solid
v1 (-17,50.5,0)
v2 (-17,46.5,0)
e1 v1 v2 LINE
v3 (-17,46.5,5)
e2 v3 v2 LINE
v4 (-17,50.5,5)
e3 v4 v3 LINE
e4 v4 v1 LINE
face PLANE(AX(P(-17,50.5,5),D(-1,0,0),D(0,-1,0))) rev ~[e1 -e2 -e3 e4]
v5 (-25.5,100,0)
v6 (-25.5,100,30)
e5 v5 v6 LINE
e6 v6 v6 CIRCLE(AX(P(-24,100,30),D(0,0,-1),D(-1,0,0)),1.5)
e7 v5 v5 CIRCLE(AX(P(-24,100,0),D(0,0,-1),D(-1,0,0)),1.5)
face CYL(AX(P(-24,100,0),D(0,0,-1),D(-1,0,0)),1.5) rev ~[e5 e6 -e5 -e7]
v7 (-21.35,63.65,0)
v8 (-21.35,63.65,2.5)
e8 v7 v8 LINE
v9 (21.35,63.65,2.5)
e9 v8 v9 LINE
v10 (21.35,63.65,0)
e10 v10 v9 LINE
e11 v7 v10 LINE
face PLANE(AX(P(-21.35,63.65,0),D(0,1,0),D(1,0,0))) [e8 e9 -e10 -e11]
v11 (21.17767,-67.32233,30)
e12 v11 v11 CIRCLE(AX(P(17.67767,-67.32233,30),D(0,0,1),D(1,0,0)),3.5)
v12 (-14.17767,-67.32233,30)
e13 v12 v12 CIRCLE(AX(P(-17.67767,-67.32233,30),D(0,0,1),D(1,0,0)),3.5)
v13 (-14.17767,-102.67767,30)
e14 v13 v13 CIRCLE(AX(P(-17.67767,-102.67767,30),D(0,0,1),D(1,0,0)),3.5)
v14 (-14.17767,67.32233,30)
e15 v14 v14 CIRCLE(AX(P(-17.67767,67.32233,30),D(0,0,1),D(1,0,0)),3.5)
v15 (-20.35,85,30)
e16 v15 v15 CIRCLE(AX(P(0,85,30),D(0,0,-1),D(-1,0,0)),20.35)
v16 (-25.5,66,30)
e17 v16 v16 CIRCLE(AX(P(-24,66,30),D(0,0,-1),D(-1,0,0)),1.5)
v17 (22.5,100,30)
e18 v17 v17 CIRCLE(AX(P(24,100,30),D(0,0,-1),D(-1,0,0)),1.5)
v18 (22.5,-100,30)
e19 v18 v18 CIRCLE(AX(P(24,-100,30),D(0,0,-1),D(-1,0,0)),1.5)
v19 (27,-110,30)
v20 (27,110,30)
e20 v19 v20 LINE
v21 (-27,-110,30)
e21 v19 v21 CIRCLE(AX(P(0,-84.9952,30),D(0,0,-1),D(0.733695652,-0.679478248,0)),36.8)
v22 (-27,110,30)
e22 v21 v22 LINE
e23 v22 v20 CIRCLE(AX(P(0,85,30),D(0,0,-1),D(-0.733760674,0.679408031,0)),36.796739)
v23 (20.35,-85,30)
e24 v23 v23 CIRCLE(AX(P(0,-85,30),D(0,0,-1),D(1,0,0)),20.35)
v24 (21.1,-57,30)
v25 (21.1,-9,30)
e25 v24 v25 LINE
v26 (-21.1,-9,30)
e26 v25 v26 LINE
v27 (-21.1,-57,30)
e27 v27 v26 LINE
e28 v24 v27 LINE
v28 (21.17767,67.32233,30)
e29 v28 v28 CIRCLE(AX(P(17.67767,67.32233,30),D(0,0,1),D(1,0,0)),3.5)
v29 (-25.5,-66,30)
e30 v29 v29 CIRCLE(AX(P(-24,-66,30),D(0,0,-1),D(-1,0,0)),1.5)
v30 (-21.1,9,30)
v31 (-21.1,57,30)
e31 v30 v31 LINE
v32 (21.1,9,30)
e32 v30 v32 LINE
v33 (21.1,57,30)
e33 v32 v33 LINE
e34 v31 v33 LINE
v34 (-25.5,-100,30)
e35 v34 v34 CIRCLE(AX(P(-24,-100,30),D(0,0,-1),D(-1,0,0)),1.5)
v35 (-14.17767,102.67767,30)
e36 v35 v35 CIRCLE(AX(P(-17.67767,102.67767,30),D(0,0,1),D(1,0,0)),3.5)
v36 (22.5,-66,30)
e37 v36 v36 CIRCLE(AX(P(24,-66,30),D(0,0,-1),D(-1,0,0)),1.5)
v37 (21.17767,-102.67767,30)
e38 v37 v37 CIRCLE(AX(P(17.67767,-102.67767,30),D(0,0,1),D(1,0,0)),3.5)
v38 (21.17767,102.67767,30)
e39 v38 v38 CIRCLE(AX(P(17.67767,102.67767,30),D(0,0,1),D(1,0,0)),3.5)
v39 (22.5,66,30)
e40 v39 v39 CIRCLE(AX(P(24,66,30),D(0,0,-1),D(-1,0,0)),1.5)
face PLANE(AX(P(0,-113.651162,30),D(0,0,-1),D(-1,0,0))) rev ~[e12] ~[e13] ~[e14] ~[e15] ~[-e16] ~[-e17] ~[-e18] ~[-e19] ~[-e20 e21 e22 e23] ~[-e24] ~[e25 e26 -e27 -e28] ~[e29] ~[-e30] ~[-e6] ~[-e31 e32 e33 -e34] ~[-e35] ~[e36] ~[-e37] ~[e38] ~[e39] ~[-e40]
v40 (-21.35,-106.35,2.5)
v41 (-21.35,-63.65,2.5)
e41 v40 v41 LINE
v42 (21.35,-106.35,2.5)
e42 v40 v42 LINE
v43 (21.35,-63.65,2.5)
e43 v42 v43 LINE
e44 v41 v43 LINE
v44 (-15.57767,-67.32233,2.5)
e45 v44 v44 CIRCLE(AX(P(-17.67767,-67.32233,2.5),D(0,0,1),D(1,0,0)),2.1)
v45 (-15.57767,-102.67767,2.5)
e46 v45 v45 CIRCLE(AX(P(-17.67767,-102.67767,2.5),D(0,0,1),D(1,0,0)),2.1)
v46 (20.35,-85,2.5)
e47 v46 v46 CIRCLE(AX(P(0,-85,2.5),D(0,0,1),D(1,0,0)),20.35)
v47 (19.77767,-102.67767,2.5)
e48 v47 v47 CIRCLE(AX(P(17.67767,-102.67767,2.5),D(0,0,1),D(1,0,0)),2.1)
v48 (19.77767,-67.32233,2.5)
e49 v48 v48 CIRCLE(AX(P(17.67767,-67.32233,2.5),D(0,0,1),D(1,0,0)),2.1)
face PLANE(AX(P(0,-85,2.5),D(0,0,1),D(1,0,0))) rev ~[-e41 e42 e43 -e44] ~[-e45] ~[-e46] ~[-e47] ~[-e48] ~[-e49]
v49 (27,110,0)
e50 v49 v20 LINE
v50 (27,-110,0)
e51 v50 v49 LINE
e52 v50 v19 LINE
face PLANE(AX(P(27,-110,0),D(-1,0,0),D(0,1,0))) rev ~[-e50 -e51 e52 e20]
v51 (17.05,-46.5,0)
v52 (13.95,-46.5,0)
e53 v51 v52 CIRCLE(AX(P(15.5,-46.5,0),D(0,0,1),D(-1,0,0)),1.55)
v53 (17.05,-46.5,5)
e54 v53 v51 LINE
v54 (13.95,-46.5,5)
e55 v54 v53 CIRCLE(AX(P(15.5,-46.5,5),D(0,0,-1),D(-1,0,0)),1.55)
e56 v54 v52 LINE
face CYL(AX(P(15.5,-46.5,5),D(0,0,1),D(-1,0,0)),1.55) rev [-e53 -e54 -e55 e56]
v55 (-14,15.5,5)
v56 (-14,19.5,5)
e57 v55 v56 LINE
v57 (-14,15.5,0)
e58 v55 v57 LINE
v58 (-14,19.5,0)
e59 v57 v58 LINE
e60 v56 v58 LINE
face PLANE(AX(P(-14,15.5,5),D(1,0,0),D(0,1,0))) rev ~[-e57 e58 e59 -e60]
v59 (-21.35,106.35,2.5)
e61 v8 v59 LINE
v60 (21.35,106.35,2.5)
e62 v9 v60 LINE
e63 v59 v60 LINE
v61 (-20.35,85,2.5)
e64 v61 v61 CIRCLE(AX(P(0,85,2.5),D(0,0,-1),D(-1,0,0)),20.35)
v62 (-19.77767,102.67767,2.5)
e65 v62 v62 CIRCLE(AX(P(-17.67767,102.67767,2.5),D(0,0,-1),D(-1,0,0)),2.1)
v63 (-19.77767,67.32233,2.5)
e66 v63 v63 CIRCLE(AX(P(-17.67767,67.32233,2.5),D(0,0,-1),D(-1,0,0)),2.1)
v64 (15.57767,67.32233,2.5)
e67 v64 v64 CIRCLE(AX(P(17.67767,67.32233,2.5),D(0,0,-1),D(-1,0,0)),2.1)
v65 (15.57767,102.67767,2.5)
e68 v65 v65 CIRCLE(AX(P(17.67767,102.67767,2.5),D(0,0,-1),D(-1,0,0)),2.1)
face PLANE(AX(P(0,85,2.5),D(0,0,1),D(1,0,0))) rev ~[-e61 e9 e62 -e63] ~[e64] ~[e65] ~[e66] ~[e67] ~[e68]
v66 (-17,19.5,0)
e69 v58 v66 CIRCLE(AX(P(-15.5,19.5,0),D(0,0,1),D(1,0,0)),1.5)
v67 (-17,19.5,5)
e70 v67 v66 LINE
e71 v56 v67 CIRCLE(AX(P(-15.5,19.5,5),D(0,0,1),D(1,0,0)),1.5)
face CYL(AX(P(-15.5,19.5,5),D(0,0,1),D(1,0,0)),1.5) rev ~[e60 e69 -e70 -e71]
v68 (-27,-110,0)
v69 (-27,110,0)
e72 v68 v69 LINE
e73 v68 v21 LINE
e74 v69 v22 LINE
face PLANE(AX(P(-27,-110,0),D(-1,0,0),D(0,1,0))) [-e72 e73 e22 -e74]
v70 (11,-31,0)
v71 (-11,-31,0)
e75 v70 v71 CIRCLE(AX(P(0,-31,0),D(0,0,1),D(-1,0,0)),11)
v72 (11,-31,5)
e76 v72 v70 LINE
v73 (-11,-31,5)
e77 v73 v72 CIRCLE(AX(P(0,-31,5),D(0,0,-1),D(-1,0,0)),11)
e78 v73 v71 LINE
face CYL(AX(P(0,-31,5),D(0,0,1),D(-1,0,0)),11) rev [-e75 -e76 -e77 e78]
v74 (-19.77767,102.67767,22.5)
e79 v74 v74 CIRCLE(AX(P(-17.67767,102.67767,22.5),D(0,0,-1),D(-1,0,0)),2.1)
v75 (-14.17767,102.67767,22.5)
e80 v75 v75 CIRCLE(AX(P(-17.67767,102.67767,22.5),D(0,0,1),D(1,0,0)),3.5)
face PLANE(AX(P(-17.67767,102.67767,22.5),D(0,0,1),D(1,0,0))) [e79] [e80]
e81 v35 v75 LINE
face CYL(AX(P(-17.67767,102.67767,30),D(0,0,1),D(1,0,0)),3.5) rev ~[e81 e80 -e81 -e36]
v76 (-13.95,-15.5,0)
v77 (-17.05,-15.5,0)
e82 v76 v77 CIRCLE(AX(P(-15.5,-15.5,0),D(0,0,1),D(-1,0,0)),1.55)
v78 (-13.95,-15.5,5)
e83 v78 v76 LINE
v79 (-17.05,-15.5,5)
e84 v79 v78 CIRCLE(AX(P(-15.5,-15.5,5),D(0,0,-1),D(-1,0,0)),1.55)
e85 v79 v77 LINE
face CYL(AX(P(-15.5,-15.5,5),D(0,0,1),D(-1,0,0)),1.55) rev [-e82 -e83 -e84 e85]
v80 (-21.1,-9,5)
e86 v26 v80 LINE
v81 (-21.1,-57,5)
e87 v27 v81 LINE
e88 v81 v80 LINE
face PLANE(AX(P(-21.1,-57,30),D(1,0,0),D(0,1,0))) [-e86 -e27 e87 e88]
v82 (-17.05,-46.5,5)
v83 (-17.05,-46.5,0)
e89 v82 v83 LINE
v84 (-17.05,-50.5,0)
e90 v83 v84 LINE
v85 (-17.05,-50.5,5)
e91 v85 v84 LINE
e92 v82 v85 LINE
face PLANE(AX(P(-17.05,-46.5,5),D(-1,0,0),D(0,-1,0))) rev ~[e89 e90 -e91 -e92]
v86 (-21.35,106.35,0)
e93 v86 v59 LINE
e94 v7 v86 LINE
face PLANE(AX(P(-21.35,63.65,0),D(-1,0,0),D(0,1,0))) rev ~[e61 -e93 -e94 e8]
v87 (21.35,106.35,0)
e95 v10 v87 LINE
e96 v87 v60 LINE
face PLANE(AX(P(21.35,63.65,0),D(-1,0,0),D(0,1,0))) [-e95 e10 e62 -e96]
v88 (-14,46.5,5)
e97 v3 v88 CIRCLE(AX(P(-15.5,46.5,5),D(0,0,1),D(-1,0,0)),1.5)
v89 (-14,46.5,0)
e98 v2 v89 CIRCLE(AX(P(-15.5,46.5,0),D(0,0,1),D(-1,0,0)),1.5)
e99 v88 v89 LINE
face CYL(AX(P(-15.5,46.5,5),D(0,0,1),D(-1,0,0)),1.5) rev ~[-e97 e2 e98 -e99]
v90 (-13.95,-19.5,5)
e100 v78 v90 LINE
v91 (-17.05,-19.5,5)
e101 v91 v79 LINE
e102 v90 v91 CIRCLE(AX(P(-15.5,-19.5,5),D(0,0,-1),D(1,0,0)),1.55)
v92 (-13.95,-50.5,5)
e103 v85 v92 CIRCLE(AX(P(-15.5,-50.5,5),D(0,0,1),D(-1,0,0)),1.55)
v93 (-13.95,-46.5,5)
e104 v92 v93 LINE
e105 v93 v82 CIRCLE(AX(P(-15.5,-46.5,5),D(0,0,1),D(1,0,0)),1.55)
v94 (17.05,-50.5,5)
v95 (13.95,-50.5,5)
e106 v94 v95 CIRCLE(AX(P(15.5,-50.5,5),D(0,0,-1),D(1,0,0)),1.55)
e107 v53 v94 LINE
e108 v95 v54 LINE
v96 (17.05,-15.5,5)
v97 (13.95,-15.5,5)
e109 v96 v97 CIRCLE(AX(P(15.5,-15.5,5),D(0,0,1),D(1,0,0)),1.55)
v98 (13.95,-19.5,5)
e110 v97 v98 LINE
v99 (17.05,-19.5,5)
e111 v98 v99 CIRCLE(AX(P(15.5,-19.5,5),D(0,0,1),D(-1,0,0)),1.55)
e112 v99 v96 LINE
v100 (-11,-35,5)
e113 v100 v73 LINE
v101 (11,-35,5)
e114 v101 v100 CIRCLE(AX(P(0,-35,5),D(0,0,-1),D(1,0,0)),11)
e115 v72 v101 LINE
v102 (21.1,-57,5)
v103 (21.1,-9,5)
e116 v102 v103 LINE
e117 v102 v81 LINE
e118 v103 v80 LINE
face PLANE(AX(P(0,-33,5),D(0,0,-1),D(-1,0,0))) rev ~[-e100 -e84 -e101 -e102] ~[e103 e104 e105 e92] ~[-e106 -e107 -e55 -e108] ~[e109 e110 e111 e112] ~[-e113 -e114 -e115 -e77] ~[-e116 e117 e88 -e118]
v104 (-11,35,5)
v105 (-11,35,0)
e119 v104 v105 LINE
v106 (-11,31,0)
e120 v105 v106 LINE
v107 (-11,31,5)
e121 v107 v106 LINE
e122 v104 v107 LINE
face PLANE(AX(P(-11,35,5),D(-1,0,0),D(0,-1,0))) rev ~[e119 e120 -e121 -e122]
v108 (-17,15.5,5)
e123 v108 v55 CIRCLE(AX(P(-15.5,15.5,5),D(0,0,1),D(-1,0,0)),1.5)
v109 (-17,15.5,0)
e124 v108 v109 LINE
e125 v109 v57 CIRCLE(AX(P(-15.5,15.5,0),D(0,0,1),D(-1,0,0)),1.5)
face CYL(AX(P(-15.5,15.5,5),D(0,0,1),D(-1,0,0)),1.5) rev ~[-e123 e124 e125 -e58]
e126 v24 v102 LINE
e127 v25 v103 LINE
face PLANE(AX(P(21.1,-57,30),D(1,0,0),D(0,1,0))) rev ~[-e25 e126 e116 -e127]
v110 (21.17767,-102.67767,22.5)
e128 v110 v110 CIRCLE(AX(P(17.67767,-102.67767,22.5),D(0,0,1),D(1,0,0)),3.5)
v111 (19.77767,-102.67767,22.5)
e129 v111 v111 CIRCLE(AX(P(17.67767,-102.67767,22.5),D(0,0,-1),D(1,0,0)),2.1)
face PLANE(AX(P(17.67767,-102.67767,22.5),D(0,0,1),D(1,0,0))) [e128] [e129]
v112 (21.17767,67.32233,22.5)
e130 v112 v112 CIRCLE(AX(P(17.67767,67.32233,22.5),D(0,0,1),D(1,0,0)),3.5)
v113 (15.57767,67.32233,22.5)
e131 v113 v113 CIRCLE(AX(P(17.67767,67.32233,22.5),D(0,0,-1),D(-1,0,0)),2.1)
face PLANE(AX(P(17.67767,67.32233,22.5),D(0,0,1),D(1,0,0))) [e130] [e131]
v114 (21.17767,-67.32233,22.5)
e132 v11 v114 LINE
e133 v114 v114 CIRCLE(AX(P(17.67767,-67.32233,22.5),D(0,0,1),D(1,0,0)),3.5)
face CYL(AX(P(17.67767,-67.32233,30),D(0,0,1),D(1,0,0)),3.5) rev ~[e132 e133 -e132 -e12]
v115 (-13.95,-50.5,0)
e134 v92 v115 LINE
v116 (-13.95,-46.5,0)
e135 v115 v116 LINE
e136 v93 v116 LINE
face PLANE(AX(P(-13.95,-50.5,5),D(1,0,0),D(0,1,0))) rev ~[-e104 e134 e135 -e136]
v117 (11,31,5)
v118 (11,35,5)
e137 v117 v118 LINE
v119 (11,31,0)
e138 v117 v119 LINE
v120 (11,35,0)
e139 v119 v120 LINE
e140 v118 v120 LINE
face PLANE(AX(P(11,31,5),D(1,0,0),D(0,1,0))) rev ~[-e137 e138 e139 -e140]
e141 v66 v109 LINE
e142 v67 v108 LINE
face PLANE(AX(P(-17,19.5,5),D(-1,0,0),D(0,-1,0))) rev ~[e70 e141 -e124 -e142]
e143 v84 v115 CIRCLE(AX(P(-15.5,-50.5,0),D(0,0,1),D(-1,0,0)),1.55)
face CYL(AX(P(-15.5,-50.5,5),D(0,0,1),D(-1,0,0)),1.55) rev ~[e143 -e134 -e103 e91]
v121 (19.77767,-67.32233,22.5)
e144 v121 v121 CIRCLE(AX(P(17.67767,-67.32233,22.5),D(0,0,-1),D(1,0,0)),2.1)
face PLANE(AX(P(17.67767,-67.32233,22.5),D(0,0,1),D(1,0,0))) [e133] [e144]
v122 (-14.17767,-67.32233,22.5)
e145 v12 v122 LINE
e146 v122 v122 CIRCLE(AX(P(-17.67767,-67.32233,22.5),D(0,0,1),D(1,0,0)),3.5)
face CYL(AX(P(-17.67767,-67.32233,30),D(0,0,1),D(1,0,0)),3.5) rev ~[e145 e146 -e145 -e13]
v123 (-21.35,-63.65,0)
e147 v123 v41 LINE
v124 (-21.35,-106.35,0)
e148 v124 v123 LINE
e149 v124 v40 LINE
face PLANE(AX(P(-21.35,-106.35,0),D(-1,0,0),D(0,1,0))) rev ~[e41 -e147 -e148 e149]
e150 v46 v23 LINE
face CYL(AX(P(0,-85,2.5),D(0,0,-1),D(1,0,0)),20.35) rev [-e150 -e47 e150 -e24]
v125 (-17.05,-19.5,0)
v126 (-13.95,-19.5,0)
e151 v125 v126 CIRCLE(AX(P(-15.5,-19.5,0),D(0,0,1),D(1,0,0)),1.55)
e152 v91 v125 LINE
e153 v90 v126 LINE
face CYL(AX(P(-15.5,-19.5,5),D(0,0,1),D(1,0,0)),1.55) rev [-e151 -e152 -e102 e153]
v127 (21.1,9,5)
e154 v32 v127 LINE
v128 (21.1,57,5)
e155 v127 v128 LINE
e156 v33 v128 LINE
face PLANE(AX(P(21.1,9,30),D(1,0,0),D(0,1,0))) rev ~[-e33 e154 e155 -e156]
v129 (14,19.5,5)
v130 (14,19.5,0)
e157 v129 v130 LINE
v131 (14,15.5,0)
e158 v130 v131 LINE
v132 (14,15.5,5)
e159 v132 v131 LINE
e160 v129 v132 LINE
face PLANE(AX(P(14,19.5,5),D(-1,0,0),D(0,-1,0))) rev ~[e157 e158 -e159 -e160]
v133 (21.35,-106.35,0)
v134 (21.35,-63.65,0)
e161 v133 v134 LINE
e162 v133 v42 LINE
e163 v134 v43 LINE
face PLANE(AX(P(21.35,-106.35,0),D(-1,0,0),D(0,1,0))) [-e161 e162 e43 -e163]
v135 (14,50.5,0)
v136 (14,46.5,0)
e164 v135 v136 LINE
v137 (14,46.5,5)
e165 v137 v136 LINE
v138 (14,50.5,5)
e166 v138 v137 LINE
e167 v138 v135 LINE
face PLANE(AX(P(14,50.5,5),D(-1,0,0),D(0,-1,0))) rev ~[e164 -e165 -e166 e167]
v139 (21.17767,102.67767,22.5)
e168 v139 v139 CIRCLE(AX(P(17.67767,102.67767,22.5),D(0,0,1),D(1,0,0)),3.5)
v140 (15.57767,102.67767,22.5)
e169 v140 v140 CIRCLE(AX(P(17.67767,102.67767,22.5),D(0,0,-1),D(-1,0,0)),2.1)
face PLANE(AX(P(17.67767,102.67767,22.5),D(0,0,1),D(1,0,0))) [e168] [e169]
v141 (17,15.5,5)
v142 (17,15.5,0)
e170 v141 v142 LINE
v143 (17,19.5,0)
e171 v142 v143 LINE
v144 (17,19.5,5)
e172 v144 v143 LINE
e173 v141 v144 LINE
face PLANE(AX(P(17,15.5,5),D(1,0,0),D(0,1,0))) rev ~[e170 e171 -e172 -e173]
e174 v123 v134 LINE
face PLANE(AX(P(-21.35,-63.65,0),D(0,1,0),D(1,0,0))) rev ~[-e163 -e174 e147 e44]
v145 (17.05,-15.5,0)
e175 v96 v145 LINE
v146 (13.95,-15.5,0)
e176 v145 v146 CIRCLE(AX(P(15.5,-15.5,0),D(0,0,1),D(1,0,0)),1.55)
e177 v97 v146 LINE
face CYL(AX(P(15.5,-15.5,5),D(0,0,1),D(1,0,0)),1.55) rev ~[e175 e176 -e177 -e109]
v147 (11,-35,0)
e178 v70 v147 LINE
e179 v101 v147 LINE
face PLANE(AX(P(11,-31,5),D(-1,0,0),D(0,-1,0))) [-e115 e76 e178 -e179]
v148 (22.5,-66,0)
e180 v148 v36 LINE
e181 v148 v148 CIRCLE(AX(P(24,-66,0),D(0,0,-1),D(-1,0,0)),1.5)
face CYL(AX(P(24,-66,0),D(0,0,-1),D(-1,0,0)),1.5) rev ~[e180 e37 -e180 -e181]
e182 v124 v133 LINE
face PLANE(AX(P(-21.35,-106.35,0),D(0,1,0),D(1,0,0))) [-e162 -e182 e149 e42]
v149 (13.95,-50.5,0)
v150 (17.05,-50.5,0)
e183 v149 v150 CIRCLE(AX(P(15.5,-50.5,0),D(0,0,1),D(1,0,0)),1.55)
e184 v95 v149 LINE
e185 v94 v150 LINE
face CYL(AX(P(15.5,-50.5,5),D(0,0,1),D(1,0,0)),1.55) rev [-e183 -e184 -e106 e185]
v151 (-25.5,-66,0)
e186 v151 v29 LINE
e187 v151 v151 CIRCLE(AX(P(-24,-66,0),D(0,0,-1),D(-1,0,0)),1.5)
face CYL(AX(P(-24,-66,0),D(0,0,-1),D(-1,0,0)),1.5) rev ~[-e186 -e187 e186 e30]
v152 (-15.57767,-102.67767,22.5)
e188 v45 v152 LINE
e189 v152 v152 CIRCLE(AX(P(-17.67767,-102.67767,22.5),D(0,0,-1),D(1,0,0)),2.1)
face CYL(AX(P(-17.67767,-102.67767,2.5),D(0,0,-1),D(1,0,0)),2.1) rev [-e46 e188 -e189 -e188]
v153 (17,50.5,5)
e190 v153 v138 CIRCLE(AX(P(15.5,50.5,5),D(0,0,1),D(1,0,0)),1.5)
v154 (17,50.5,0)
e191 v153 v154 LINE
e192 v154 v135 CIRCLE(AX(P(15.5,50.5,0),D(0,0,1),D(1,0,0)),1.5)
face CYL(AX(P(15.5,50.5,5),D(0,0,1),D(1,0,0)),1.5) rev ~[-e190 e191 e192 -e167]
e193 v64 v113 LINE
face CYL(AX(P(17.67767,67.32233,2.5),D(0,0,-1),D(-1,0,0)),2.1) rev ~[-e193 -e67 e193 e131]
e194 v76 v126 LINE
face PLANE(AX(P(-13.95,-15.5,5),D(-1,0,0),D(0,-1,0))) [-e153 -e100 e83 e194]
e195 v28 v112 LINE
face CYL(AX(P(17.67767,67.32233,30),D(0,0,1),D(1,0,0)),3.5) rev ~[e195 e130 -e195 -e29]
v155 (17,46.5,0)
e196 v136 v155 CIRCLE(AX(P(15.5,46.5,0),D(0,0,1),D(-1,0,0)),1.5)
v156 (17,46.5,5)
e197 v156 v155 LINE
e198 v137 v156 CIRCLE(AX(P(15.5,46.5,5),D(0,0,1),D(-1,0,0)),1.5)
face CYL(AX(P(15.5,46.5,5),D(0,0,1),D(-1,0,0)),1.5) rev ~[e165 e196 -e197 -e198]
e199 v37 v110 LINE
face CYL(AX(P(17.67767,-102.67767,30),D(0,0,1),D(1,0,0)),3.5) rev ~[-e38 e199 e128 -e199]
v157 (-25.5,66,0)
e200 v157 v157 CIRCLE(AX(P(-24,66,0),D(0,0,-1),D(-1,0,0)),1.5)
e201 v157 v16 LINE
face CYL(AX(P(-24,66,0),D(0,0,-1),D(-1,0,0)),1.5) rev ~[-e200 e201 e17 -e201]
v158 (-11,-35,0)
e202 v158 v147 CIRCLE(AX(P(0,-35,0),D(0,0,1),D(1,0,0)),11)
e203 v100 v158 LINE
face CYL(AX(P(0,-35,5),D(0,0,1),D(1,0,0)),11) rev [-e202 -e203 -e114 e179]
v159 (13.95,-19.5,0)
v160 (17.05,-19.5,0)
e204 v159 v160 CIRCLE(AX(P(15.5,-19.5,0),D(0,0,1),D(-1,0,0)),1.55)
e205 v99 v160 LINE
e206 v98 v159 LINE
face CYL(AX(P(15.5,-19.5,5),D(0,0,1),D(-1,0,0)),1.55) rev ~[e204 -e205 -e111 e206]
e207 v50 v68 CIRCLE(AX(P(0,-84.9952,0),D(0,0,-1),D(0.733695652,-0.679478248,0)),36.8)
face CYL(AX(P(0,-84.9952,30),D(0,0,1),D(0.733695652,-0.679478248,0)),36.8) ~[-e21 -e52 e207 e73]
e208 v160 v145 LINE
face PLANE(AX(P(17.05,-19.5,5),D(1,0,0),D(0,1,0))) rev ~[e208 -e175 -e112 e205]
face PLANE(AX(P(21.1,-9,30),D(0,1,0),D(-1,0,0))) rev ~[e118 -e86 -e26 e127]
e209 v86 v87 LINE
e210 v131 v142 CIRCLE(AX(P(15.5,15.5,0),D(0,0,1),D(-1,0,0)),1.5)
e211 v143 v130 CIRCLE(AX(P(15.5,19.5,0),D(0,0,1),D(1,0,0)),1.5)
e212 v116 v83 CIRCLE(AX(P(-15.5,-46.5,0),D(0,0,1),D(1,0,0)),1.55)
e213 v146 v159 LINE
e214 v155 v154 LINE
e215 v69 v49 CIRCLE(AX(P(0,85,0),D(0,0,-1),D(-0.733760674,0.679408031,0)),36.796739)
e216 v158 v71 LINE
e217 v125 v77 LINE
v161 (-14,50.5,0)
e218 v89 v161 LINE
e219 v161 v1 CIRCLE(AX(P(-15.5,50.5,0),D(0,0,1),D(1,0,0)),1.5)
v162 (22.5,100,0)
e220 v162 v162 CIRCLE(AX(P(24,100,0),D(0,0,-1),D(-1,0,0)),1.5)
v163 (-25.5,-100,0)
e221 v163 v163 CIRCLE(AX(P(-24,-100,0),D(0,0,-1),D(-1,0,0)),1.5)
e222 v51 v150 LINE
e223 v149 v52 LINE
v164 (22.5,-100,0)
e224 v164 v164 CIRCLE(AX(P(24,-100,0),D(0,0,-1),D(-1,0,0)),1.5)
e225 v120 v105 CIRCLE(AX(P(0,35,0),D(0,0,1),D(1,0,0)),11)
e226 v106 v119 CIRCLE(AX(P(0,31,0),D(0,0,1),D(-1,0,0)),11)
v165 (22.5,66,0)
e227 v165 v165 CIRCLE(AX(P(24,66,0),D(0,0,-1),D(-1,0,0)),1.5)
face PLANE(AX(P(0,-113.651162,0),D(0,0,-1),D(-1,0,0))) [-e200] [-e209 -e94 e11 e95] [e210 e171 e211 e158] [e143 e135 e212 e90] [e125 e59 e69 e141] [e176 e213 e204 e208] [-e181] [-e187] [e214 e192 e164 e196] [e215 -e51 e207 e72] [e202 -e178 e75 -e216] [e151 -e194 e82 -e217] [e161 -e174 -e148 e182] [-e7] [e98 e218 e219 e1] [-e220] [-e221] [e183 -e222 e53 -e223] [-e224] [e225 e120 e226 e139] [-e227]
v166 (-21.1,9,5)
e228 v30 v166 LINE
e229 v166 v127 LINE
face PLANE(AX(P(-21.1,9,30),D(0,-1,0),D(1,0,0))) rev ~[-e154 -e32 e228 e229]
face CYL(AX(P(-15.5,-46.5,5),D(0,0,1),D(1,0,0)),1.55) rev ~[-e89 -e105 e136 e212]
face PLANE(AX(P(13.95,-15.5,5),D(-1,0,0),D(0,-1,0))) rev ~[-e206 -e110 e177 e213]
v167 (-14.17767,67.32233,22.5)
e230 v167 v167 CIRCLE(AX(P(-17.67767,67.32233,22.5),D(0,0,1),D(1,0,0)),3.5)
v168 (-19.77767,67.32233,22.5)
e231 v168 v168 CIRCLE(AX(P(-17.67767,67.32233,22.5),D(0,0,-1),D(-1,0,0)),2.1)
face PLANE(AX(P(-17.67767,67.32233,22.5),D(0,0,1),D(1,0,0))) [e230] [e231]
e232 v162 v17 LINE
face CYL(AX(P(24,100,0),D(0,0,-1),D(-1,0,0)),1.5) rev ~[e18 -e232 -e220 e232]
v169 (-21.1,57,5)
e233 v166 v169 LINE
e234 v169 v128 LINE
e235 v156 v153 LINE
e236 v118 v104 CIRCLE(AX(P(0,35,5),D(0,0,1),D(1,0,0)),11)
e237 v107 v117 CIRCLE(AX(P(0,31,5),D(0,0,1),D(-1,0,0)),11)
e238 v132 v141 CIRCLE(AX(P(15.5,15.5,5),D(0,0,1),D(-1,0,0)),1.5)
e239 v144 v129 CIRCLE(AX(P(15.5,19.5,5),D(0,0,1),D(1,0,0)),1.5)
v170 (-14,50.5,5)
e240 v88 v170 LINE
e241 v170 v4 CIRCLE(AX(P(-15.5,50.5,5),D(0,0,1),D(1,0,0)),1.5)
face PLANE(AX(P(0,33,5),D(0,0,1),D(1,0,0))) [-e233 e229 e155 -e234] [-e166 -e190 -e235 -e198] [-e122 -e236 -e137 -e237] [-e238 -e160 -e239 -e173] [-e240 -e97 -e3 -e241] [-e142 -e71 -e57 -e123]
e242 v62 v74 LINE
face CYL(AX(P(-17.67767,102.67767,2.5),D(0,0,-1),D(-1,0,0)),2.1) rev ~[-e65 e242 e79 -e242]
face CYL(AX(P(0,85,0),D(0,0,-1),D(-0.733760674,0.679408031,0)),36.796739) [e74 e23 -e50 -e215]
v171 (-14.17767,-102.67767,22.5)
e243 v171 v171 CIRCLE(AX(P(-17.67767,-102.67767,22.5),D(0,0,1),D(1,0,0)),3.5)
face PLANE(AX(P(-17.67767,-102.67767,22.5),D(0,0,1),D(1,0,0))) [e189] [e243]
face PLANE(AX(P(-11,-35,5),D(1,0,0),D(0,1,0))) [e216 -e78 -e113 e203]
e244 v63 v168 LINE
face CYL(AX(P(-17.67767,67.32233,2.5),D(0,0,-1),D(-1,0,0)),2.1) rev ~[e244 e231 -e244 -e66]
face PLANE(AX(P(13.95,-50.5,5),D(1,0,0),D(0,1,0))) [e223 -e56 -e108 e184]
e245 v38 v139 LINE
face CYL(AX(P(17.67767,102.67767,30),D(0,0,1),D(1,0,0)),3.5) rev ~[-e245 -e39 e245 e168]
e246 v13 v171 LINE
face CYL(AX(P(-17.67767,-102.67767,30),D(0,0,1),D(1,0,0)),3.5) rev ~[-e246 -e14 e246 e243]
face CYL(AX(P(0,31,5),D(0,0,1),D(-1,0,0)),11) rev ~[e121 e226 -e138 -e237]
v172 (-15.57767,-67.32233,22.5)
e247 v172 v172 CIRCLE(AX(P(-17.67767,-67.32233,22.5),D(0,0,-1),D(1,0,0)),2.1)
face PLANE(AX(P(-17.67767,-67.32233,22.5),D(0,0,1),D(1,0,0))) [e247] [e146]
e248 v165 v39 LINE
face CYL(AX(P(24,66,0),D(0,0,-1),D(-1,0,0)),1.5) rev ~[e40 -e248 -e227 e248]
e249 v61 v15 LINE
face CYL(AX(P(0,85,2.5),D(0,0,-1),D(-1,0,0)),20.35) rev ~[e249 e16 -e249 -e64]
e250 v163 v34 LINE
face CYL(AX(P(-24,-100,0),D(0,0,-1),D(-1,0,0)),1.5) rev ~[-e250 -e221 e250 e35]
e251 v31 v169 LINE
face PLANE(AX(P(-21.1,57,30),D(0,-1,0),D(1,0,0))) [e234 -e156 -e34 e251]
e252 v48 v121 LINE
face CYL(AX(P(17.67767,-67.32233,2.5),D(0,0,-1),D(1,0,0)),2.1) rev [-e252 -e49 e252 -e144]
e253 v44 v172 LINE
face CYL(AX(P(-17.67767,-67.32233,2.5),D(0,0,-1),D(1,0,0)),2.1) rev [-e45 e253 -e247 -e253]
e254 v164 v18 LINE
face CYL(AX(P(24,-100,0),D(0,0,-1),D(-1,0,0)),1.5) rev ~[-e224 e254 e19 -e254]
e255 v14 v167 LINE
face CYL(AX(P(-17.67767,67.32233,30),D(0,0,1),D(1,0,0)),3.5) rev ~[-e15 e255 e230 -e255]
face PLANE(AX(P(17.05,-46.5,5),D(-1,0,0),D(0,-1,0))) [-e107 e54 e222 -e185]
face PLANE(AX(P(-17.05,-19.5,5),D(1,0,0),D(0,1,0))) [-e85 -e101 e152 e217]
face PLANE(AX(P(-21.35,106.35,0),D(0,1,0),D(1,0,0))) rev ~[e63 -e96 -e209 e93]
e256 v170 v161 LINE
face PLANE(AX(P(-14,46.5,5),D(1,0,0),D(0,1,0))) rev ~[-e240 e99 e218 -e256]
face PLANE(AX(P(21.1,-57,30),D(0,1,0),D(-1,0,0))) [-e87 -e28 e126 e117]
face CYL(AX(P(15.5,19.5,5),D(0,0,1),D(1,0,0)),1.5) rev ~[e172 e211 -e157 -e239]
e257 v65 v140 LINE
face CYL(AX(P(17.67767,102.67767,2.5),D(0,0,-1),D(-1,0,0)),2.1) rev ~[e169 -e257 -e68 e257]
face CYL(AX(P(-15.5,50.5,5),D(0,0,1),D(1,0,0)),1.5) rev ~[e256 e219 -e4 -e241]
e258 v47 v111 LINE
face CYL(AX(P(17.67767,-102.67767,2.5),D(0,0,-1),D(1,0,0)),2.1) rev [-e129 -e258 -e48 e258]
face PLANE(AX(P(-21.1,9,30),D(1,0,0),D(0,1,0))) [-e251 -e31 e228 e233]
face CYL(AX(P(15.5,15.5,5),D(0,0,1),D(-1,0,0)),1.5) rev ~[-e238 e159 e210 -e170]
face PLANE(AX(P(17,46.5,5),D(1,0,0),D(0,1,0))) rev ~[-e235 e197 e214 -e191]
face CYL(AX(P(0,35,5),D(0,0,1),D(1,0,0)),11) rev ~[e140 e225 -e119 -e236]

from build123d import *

# Parameters (mm, degrees)
SKETCH_1_W                = 54
SKETCH_1_H                = 220
EXTRUDE_1_DEPTH           = 30
SKETCH_2_W                = 42.2
SKETCH_2_H                = 48
CUT_EXTRUDE_1_DEPTH       = 25
SKETCH_3_W                = 42.2
SKETCH_3_H                = 48
CUT_EXTRUDE_2_DEPTH       = 25
CUT_EXTRUDE_3_DEPTH       = 6
CUT_EXTRUDE_13_DEPTH      = 6
SKETCH_18_W               = 42.7
SKETCH_18_H               = 42.7
CUT_EXTRUDE_9_DEPTH       = 2.5
SKETCH_9_R                = 20.35
SKETCH_9_R_2              = 2.1
CUT_EXTRUDE_4_DEPTH       = 28.5
SKETCH_16_W               = 42.7
SKETCH_16_H               = 42.7
CUT_EXTRUDE_7_DEPTH       = 2.5
SKETCH_13_R               = 20.35
SKETCH_13_R_2             = 2.1
CUT_EXTRUDE_6_DEPTH       = 28.5
EXTRUDE_3_DEPTH           = 30
CUT_EXTRUDE_8_REACH       = 32
SKETCH_17_R               = 1.5
SKETCH_21_R               = 3.5
CUT_EXTRUDE_11_DEPTH      = 1
CUT_EXTRUDE_11_DEPTH_BACK = 7.5
EXTRUDE_4_DEPTH           = 30
SKETCH_29_R               = 3.5
CUT_EXTRUDE_15_DEPTH      = 7.5
CUT_EXTRUDE_16_REACH      = 32
SKETCH_30_R               = 1.5


with BuildPart() as part:
    # 草图1 → 凸台-拉伸1 (new body)
    with BuildSketch(Plane.XY):
        Rectangle(SKETCH_1_W, SKETCH_1_H)
    extrude(amount=EXTRUDE_1_DEPTH)

    # 草图2 → 切除-拉伸1 (cut)
    with BuildSketch(Plane.XY.offset(30)):
        with Locations((0, 33)):
            Rectangle(SKETCH_2_W, SKETCH_2_H)
    extrude(amount=-CUT_EXTRUDE_1_DEPTH, mode=Mode.SUBTRACT)

    # 草图3 → 切除-拉伸2 (cut)
    with BuildSketch(Plane(origin=(0, 0, 30), x_dir=(-1, 0, 0), z_dir=(0, 0, -1))):
        with Locations((0, -33)):
            Rectangle(SKETCH_3_W, SKETCH_3_H)
    extrude(amount=CUT_EXTRUDE_2_DEPTH, mode=Mode.SUBTRACT)

    # 草图4 → 切除-拉伸3 (cut, through all)
    with BuildSketch(Plane.XY.offset(5)):
        with BuildLine():
            Line((11, 31), (11, 35))
            ThreePointArc((11, 35), (0, 46), (-11, 35))
            Line((-11, 35), (-11, 31))
            ThreePointArc((-11, 31), (0, 20), (11, 31))
        make_face()
        with BuildLine():
            Line((-14, 46.5), (-14, 50.5))
            ThreePointArc((-14, 50.5), (-15.5, 52), (-17, 50.5))
            Line((-17, 50.5), (-17, 46.5))
            ThreePointArc((-17, 46.5), (-15.5, 45), (-14, 46.5))
        make_face()
        with BuildLine():
            ThreePointArc((17, 50.5), (15.5, 52), (14, 50.5))
            Line((14, 50.5), (14, 46.5))
            ThreePointArc((14, 46.5), (15.5, 45), (17, 46.5))
            Line((17, 46.5), (17, 50.5))
        make_face()
        with BuildLine():
            Line((14, 19.5), (14, 15.5))
            ThreePointArc((14, 15.5), (15.5, 14), (17, 15.5))
            Line((17, 15.5), (17, 19.5))
            ThreePointArc((17, 19.5), (15.5, 21), (14, 19.5))
        make_face()
        with BuildLine():
            ThreePointArc((-17, 15.5), (-15.5, 14), (-14, 15.5))
            Line((-14, 15.5), (-14, 19.5))
            ThreePointArc((-14, 19.5), (-15.5, 21), (-17, 19.5))
            Line((-17, 19.5), (-17, 15.5))
        make_face()
    extrude(amount=-CUT_EXTRUDE_3_DEPTH, mode=Mode.SUBTRACT)

    # 草图26 → 切除-拉伸13 (cut, through all)
    with BuildSketch(Plane.XY.offset(5)):
        with BuildLine():
            Line((11, -31), (11, -35))
            ThreePointArc((11, -35), (0, -46), (-11, -35))
            Line((-11, -35), (-11, -31))
            ThreePointArc((-11, -31), (0, -20), (11, -31))
        make_face()
        with BuildLine():
            Line((-13.95, -15.5), (-13.95, -19.5))
            ThreePointArc((-13.95, -19.5), (-15.5, -21.05), (-17.05, -19.5))
            Line((-17.05, -19.5), (-17.05, -15.5))
            ThreePointArc((-17.05, -15.5), (-15.5, -13.95), (-13.95, -15.5))
        make_face()
        with BuildLine():
            Line((-13.95, -50.5), (-13.95, -46.5))
            ThreePointArc((-13.95, -46.5), (-15.5, -44.95), (-17.05, -46.5))
            Line((-17.05, -46.5), (-17.05, -50.5))
            ThreePointArc((-17.05, -50.5), (-15.5, -52.05), (-13.95, -50.5))
        make_face()
        with BuildLine():
            Line((13.95, -50.5), (13.95, -46.5))
            ThreePointArc((13.95, -46.5), (15.5, -44.95), (17.05, -46.5))
            Line((17.05, -46.5), (17.05, -50.5))
            ThreePointArc((17.05, -50.5), (15.5, -52.05), (13.95, -50.5))
        make_face()
        with BuildLine():
            Line((13.95, -15.5), (13.95, -19.5))
            ThreePointArc((13.95, -19.5), (15.5, -21.05), (17.05, -19.5))
            Line((17.05, -19.5), (17.05, -15.5))
            ThreePointArc((17.05, -15.5), (15.5, -13.95), (13.95, -15.5))
        make_face()
    extrude(amount=-CUT_EXTRUDE_13_DEPTH, mode=Mode.SUBTRACT)

    # 草图18 → 切除-拉伸9 (cut)
    with BuildSketch(Plane.XY):
        with Locations((0, -85)):
            Rectangle(SKETCH_18_W, SKETCH_18_H)
    extrude(amount=CUT_EXTRUDE_9_DEPTH, mode=Mode.SUBTRACT)

    # 草图9 → 切除-拉伸4 (cut, through all)
    with BuildSketch(Plane.XY.offset(2.5)):
        with Locations((0, -85)):
            Circle(SKETCH_9_R)
        with Locations((-17.67766953, -67.32233047)):
            Circle(SKETCH_9_R_2)
        with Locations((17.67766953, -67.32233047)):
            Circle(SKETCH_9_R_2)
        with Locations((17.67766953, -102.67766953)):
            Circle(SKETCH_9_R_2)
        with Locations((-17.67766953, -102.67766953)):
            Circle(SKETCH_9_R_2)
    extrude(amount=CUT_EXTRUDE_4_DEPTH, mode=Mode.SUBTRACT)

    # 草图16 → 切除-拉伸7 (cut)
    with BuildSketch(Plane.XY):
        with Locations((0, 85)):
            Rectangle(SKETCH_16_W, SKETCH_16_H)
    extrude(amount=CUT_EXTRUDE_7_DEPTH, mode=Mode.SUBTRACT)

    # 草图13 → 切除-拉伸6 (cut, through all)
    with BuildSketch(Plane(origin=(0, 0, 2.5), x_dir=(-1, 0, 0), z_dir=(0, 0, -1))):
        with Locations((0, 85)):
            Circle(SKETCH_13_R)
        with Locations((-17.67766953, 102.67766953)):
            Circle(SKETCH_13_R_2)
        with Locations((17.67766953, 102.67766953)):
            Circle(SKETCH_13_R_2)
        with Locations((17.67766953, 67.32233047)):
            Circle(SKETCH_13_R_2)
        with Locations((-17.67766953, 67.32233047)):
            Circle(SKETCH_13_R_2)
    extrude(amount=-CUT_EXTRUDE_6_DEPTH, mode=Mode.SUBTRACT)

    # 草图15 → 凸台-拉伸3 (add)
    with BuildSketch(Plane(origin=(0, 0, 0), x_dir=(-1, 0, 0), z_dir=(0, 0, -1))):
        with BuildLine():
            Line((-27, 110), (27, 110))
            ThreePointArc((27, 110), (0, 121.796738986), (-27, 110))
        make_face()
    extrude(amount=-EXTRUDE_3_DEPTH)

    # 草图17 → 切除-拉伸8 (cut, up to next)
    with BuildSketch(Plane(origin=(0, 0, 0), x_dir=(-1, 0, 0), z_dir=(0, 0, -1)), mode=Mode.PRIVATE) as cut_extrude_8_sk1:
        with Locations((-24, 100)):
            Circle(SKETCH_17_R)
    cut_extrude_8_tool1 = extrude(cut_extrude_8_sk1.sketch, amount=-CUT_EXTRUDE_8_REACH, mode=Mode.PRIVATE) & part.part
    add(cut_extrude_8_tool1.solids().sort_by_distance((24, 100, 0))[0], mode=Mode.SUBTRACT)
    # 草图17 → 切除-拉伸8 (cut, up to next)
    with BuildSketch(Plane(origin=(0, 0, 0), x_dir=(-1, 0, 0), z_dir=(0, 0, -1)), mode=Mode.PRIVATE) as cut_extrude_8_sk2:
        with Locations((24, 100)):
            Circle(SKETCH_17_R)
    cut_extrude_8_tool2 = extrude(cut_extrude_8_sk2.sketch, amount=-CUT_EXTRUDE_8_REACH, mode=Mode.PRIVATE) & part.part
    add(cut_extrude_8_tool2.solids().sort_by_distance((-24, 100, 0))[0], mode=Mode.SUBTRACT)
    # 草图17 → 切除-拉伸8 (cut, up to next)
    with BuildSketch(Plane(origin=(0, 0, 0), x_dir=(-1, 0, 0), z_dir=(0, 0, -1)), mode=Mode.PRIVATE) as cut_extrude_8_sk3:
        with Locations((24, 66)):
            Circle(SKETCH_17_R)
    cut_extrude_8_tool3 = extrude(cut_extrude_8_sk3.sketch, amount=-CUT_EXTRUDE_8_REACH, mode=Mode.PRIVATE) & part.part
    add(cut_extrude_8_tool3.solids().sort_by_distance((-24, 66, 0))[0], mode=Mode.SUBTRACT)
    # 草图17 → 切除-拉伸8 (cut, up to next)
    with BuildSketch(Plane(origin=(0, 0, 0), x_dir=(-1, 0, 0), z_dir=(0, 0, -1)), mode=Mode.PRIVATE) as cut_extrude_8_sk4:
        with Locations((-24, 66)):
            Circle(SKETCH_17_R)
    cut_extrude_8_tool4 = extrude(cut_extrude_8_sk4.sketch, amount=-CUT_EXTRUDE_8_REACH, mode=Mode.PRIVATE) & part.part
    add(cut_extrude_8_tool4.solids().sort_by_distance((24, 66, 0))[0], mode=Mode.SUBTRACT)

    # 草图21 → 切除-拉伸11 (cut, two sides)
    with BuildSketch(Plane.XY.offset(30)) as cut_extrude_11_sk:
        with Locations((-17.67766953, 102.67766953)):
            Circle(SKETCH_21_R)
        with Locations((17.67766953, 102.67766953)):
            Circle(SKETCH_21_R)
        with Locations((17.67766953, 67.32233047)):
            Circle(SKETCH_21_R)
        with Locations((-17.67766953, 67.32233047)):
            Circle(SKETCH_21_R)
    extrude(amount=CUT_EXTRUDE_11_DEPTH, mode=Mode.SUBTRACT)
    extrude(cut_extrude_11_sk.sketch, amount=-CUT_EXTRUDE_11_DEPTH_BACK, mode=Mode.SUBTRACT)

    # 草图28 → 凸台-拉伸4 (add)
    with BuildSketch(Plane.XY.offset(30)):
        with BuildLine():
            Line((-27, -110), (27, -110))
            ThreePointArc((27, -110), (0, -121.795200461), (-27, -110))
        make_face()
    extrude(amount=-EXTRUDE_4_DEPTH)

    # 草图29 → 切除-拉伸15 (cut)
    with BuildSketch(Plane.XY.offset(30)):
        with Locations((-17.67766953, -67.32233047)):
            Circle(SKETCH_29_R)
        with Locations((17.67766953, -67.32233047)):
            Circle(SKETCH_29_R)
        with Locations((17.67766953, -102.67766953)):
            Circle(SKETCH_29_R)
        with Locations((-17.67766953, -102.67766953)):
            Circle(SKETCH_29_R)
    extrude(amount=-CUT_EXTRUDE_15_DEPTH, mode=Mode.SUBTRACT)

    # 草图30 → 切除-拉伸16 (cut, up to next)
    with BuildSketch(Plane(origin=(0, 0, 0), x_dir=(-1, 0, 0), z_dir=(0, 0, -1)), mode=Mode.PRIVATE) as cut_extrude_16_sk1:
        with Locations((-24, -100)):
            Circle(SKETCH_30_R)
    cut_extrude_16_tool1 = extrude(cut_extrude_16_sk1.sketch, amount=-CUT_EXTRUDE_16_REACH, mode=Mode.PRIVATE) & part.part
    add(cut_extrude_16_tool1.solids().sort_by_distance((24, -100, 0))[0], mode=Mode.SUBTRACT)
    # 草图30 → 切除-拉伸16 (cut, up to next)
    with BuildSketch(Plane(origin=(0, 0, 0), x_dir=(-1, 0, 0), z_dir=(0, 0, -1)), mode=Mode.PRIVATE) as cut_extrude_16_sk2:
        with Locations((-24, -66)):
            Circle(SKETCH_30_R)
    cut_extrude_16_tool2 = extrude(cut_extrude_16_sk2.sketch, amount=-CUT_EXTRUDE_16_REACH, mode=Mode.PRIVATE) & part.part
    add(cut_extrude_16_tool2.solids().sort_by_distance((24, -66, 0))[0], mode=Mode.SUBTRACT)
    # 草图30 → 切除-拉伸16 (cut, up to next)
    with BuildSketch(Plane(origin=(0, 0, 0), x_dir=(-1, 0, 0), z_dir=(0, 0, -1)), mode=Mode.PRIVATE) as cut_extrude_16_sk3:
        with Locations((24, -66)):
            Circle(SKETCH_30_R)
    cut_extrude_16_tool3 = extrude(cut_extrude_16_sk3.sketch, amount=-CUT_EXTRUDE_16_REACH, mode=Mode.PRIVATE) & part.part
    add(cut_extrude_16_tool3.solids().sort_by_distance((-24, -66, 0))[0], mode=Mode.SUBTRACT)
    # 草图30 → 切除-拉伸16 (cut, up to next)
    with BuildSketch(Plane(origin=(0, 0, 0), x_dir=(-1, 0, 0), z_dir=(0, 0, -1)), mode=Mode.PRIVATE) as cut_extrude_16_sk4:
        with Locations((24, -100)):
            Circle(SKETCH_30_R)
    cut_extrude_16_tool4 = extrude(cut_extrude_16_sk4.sketch, amount=-CUT_EXTRUDE_16_REACH, mode=Mode.PRIVATE) & part.part
    add(cut_extrude_16_tool4.solids().sort_by_distance((-24, -100, 0))[0], mode=Mode.SUBTRACT)


solid = part.part
